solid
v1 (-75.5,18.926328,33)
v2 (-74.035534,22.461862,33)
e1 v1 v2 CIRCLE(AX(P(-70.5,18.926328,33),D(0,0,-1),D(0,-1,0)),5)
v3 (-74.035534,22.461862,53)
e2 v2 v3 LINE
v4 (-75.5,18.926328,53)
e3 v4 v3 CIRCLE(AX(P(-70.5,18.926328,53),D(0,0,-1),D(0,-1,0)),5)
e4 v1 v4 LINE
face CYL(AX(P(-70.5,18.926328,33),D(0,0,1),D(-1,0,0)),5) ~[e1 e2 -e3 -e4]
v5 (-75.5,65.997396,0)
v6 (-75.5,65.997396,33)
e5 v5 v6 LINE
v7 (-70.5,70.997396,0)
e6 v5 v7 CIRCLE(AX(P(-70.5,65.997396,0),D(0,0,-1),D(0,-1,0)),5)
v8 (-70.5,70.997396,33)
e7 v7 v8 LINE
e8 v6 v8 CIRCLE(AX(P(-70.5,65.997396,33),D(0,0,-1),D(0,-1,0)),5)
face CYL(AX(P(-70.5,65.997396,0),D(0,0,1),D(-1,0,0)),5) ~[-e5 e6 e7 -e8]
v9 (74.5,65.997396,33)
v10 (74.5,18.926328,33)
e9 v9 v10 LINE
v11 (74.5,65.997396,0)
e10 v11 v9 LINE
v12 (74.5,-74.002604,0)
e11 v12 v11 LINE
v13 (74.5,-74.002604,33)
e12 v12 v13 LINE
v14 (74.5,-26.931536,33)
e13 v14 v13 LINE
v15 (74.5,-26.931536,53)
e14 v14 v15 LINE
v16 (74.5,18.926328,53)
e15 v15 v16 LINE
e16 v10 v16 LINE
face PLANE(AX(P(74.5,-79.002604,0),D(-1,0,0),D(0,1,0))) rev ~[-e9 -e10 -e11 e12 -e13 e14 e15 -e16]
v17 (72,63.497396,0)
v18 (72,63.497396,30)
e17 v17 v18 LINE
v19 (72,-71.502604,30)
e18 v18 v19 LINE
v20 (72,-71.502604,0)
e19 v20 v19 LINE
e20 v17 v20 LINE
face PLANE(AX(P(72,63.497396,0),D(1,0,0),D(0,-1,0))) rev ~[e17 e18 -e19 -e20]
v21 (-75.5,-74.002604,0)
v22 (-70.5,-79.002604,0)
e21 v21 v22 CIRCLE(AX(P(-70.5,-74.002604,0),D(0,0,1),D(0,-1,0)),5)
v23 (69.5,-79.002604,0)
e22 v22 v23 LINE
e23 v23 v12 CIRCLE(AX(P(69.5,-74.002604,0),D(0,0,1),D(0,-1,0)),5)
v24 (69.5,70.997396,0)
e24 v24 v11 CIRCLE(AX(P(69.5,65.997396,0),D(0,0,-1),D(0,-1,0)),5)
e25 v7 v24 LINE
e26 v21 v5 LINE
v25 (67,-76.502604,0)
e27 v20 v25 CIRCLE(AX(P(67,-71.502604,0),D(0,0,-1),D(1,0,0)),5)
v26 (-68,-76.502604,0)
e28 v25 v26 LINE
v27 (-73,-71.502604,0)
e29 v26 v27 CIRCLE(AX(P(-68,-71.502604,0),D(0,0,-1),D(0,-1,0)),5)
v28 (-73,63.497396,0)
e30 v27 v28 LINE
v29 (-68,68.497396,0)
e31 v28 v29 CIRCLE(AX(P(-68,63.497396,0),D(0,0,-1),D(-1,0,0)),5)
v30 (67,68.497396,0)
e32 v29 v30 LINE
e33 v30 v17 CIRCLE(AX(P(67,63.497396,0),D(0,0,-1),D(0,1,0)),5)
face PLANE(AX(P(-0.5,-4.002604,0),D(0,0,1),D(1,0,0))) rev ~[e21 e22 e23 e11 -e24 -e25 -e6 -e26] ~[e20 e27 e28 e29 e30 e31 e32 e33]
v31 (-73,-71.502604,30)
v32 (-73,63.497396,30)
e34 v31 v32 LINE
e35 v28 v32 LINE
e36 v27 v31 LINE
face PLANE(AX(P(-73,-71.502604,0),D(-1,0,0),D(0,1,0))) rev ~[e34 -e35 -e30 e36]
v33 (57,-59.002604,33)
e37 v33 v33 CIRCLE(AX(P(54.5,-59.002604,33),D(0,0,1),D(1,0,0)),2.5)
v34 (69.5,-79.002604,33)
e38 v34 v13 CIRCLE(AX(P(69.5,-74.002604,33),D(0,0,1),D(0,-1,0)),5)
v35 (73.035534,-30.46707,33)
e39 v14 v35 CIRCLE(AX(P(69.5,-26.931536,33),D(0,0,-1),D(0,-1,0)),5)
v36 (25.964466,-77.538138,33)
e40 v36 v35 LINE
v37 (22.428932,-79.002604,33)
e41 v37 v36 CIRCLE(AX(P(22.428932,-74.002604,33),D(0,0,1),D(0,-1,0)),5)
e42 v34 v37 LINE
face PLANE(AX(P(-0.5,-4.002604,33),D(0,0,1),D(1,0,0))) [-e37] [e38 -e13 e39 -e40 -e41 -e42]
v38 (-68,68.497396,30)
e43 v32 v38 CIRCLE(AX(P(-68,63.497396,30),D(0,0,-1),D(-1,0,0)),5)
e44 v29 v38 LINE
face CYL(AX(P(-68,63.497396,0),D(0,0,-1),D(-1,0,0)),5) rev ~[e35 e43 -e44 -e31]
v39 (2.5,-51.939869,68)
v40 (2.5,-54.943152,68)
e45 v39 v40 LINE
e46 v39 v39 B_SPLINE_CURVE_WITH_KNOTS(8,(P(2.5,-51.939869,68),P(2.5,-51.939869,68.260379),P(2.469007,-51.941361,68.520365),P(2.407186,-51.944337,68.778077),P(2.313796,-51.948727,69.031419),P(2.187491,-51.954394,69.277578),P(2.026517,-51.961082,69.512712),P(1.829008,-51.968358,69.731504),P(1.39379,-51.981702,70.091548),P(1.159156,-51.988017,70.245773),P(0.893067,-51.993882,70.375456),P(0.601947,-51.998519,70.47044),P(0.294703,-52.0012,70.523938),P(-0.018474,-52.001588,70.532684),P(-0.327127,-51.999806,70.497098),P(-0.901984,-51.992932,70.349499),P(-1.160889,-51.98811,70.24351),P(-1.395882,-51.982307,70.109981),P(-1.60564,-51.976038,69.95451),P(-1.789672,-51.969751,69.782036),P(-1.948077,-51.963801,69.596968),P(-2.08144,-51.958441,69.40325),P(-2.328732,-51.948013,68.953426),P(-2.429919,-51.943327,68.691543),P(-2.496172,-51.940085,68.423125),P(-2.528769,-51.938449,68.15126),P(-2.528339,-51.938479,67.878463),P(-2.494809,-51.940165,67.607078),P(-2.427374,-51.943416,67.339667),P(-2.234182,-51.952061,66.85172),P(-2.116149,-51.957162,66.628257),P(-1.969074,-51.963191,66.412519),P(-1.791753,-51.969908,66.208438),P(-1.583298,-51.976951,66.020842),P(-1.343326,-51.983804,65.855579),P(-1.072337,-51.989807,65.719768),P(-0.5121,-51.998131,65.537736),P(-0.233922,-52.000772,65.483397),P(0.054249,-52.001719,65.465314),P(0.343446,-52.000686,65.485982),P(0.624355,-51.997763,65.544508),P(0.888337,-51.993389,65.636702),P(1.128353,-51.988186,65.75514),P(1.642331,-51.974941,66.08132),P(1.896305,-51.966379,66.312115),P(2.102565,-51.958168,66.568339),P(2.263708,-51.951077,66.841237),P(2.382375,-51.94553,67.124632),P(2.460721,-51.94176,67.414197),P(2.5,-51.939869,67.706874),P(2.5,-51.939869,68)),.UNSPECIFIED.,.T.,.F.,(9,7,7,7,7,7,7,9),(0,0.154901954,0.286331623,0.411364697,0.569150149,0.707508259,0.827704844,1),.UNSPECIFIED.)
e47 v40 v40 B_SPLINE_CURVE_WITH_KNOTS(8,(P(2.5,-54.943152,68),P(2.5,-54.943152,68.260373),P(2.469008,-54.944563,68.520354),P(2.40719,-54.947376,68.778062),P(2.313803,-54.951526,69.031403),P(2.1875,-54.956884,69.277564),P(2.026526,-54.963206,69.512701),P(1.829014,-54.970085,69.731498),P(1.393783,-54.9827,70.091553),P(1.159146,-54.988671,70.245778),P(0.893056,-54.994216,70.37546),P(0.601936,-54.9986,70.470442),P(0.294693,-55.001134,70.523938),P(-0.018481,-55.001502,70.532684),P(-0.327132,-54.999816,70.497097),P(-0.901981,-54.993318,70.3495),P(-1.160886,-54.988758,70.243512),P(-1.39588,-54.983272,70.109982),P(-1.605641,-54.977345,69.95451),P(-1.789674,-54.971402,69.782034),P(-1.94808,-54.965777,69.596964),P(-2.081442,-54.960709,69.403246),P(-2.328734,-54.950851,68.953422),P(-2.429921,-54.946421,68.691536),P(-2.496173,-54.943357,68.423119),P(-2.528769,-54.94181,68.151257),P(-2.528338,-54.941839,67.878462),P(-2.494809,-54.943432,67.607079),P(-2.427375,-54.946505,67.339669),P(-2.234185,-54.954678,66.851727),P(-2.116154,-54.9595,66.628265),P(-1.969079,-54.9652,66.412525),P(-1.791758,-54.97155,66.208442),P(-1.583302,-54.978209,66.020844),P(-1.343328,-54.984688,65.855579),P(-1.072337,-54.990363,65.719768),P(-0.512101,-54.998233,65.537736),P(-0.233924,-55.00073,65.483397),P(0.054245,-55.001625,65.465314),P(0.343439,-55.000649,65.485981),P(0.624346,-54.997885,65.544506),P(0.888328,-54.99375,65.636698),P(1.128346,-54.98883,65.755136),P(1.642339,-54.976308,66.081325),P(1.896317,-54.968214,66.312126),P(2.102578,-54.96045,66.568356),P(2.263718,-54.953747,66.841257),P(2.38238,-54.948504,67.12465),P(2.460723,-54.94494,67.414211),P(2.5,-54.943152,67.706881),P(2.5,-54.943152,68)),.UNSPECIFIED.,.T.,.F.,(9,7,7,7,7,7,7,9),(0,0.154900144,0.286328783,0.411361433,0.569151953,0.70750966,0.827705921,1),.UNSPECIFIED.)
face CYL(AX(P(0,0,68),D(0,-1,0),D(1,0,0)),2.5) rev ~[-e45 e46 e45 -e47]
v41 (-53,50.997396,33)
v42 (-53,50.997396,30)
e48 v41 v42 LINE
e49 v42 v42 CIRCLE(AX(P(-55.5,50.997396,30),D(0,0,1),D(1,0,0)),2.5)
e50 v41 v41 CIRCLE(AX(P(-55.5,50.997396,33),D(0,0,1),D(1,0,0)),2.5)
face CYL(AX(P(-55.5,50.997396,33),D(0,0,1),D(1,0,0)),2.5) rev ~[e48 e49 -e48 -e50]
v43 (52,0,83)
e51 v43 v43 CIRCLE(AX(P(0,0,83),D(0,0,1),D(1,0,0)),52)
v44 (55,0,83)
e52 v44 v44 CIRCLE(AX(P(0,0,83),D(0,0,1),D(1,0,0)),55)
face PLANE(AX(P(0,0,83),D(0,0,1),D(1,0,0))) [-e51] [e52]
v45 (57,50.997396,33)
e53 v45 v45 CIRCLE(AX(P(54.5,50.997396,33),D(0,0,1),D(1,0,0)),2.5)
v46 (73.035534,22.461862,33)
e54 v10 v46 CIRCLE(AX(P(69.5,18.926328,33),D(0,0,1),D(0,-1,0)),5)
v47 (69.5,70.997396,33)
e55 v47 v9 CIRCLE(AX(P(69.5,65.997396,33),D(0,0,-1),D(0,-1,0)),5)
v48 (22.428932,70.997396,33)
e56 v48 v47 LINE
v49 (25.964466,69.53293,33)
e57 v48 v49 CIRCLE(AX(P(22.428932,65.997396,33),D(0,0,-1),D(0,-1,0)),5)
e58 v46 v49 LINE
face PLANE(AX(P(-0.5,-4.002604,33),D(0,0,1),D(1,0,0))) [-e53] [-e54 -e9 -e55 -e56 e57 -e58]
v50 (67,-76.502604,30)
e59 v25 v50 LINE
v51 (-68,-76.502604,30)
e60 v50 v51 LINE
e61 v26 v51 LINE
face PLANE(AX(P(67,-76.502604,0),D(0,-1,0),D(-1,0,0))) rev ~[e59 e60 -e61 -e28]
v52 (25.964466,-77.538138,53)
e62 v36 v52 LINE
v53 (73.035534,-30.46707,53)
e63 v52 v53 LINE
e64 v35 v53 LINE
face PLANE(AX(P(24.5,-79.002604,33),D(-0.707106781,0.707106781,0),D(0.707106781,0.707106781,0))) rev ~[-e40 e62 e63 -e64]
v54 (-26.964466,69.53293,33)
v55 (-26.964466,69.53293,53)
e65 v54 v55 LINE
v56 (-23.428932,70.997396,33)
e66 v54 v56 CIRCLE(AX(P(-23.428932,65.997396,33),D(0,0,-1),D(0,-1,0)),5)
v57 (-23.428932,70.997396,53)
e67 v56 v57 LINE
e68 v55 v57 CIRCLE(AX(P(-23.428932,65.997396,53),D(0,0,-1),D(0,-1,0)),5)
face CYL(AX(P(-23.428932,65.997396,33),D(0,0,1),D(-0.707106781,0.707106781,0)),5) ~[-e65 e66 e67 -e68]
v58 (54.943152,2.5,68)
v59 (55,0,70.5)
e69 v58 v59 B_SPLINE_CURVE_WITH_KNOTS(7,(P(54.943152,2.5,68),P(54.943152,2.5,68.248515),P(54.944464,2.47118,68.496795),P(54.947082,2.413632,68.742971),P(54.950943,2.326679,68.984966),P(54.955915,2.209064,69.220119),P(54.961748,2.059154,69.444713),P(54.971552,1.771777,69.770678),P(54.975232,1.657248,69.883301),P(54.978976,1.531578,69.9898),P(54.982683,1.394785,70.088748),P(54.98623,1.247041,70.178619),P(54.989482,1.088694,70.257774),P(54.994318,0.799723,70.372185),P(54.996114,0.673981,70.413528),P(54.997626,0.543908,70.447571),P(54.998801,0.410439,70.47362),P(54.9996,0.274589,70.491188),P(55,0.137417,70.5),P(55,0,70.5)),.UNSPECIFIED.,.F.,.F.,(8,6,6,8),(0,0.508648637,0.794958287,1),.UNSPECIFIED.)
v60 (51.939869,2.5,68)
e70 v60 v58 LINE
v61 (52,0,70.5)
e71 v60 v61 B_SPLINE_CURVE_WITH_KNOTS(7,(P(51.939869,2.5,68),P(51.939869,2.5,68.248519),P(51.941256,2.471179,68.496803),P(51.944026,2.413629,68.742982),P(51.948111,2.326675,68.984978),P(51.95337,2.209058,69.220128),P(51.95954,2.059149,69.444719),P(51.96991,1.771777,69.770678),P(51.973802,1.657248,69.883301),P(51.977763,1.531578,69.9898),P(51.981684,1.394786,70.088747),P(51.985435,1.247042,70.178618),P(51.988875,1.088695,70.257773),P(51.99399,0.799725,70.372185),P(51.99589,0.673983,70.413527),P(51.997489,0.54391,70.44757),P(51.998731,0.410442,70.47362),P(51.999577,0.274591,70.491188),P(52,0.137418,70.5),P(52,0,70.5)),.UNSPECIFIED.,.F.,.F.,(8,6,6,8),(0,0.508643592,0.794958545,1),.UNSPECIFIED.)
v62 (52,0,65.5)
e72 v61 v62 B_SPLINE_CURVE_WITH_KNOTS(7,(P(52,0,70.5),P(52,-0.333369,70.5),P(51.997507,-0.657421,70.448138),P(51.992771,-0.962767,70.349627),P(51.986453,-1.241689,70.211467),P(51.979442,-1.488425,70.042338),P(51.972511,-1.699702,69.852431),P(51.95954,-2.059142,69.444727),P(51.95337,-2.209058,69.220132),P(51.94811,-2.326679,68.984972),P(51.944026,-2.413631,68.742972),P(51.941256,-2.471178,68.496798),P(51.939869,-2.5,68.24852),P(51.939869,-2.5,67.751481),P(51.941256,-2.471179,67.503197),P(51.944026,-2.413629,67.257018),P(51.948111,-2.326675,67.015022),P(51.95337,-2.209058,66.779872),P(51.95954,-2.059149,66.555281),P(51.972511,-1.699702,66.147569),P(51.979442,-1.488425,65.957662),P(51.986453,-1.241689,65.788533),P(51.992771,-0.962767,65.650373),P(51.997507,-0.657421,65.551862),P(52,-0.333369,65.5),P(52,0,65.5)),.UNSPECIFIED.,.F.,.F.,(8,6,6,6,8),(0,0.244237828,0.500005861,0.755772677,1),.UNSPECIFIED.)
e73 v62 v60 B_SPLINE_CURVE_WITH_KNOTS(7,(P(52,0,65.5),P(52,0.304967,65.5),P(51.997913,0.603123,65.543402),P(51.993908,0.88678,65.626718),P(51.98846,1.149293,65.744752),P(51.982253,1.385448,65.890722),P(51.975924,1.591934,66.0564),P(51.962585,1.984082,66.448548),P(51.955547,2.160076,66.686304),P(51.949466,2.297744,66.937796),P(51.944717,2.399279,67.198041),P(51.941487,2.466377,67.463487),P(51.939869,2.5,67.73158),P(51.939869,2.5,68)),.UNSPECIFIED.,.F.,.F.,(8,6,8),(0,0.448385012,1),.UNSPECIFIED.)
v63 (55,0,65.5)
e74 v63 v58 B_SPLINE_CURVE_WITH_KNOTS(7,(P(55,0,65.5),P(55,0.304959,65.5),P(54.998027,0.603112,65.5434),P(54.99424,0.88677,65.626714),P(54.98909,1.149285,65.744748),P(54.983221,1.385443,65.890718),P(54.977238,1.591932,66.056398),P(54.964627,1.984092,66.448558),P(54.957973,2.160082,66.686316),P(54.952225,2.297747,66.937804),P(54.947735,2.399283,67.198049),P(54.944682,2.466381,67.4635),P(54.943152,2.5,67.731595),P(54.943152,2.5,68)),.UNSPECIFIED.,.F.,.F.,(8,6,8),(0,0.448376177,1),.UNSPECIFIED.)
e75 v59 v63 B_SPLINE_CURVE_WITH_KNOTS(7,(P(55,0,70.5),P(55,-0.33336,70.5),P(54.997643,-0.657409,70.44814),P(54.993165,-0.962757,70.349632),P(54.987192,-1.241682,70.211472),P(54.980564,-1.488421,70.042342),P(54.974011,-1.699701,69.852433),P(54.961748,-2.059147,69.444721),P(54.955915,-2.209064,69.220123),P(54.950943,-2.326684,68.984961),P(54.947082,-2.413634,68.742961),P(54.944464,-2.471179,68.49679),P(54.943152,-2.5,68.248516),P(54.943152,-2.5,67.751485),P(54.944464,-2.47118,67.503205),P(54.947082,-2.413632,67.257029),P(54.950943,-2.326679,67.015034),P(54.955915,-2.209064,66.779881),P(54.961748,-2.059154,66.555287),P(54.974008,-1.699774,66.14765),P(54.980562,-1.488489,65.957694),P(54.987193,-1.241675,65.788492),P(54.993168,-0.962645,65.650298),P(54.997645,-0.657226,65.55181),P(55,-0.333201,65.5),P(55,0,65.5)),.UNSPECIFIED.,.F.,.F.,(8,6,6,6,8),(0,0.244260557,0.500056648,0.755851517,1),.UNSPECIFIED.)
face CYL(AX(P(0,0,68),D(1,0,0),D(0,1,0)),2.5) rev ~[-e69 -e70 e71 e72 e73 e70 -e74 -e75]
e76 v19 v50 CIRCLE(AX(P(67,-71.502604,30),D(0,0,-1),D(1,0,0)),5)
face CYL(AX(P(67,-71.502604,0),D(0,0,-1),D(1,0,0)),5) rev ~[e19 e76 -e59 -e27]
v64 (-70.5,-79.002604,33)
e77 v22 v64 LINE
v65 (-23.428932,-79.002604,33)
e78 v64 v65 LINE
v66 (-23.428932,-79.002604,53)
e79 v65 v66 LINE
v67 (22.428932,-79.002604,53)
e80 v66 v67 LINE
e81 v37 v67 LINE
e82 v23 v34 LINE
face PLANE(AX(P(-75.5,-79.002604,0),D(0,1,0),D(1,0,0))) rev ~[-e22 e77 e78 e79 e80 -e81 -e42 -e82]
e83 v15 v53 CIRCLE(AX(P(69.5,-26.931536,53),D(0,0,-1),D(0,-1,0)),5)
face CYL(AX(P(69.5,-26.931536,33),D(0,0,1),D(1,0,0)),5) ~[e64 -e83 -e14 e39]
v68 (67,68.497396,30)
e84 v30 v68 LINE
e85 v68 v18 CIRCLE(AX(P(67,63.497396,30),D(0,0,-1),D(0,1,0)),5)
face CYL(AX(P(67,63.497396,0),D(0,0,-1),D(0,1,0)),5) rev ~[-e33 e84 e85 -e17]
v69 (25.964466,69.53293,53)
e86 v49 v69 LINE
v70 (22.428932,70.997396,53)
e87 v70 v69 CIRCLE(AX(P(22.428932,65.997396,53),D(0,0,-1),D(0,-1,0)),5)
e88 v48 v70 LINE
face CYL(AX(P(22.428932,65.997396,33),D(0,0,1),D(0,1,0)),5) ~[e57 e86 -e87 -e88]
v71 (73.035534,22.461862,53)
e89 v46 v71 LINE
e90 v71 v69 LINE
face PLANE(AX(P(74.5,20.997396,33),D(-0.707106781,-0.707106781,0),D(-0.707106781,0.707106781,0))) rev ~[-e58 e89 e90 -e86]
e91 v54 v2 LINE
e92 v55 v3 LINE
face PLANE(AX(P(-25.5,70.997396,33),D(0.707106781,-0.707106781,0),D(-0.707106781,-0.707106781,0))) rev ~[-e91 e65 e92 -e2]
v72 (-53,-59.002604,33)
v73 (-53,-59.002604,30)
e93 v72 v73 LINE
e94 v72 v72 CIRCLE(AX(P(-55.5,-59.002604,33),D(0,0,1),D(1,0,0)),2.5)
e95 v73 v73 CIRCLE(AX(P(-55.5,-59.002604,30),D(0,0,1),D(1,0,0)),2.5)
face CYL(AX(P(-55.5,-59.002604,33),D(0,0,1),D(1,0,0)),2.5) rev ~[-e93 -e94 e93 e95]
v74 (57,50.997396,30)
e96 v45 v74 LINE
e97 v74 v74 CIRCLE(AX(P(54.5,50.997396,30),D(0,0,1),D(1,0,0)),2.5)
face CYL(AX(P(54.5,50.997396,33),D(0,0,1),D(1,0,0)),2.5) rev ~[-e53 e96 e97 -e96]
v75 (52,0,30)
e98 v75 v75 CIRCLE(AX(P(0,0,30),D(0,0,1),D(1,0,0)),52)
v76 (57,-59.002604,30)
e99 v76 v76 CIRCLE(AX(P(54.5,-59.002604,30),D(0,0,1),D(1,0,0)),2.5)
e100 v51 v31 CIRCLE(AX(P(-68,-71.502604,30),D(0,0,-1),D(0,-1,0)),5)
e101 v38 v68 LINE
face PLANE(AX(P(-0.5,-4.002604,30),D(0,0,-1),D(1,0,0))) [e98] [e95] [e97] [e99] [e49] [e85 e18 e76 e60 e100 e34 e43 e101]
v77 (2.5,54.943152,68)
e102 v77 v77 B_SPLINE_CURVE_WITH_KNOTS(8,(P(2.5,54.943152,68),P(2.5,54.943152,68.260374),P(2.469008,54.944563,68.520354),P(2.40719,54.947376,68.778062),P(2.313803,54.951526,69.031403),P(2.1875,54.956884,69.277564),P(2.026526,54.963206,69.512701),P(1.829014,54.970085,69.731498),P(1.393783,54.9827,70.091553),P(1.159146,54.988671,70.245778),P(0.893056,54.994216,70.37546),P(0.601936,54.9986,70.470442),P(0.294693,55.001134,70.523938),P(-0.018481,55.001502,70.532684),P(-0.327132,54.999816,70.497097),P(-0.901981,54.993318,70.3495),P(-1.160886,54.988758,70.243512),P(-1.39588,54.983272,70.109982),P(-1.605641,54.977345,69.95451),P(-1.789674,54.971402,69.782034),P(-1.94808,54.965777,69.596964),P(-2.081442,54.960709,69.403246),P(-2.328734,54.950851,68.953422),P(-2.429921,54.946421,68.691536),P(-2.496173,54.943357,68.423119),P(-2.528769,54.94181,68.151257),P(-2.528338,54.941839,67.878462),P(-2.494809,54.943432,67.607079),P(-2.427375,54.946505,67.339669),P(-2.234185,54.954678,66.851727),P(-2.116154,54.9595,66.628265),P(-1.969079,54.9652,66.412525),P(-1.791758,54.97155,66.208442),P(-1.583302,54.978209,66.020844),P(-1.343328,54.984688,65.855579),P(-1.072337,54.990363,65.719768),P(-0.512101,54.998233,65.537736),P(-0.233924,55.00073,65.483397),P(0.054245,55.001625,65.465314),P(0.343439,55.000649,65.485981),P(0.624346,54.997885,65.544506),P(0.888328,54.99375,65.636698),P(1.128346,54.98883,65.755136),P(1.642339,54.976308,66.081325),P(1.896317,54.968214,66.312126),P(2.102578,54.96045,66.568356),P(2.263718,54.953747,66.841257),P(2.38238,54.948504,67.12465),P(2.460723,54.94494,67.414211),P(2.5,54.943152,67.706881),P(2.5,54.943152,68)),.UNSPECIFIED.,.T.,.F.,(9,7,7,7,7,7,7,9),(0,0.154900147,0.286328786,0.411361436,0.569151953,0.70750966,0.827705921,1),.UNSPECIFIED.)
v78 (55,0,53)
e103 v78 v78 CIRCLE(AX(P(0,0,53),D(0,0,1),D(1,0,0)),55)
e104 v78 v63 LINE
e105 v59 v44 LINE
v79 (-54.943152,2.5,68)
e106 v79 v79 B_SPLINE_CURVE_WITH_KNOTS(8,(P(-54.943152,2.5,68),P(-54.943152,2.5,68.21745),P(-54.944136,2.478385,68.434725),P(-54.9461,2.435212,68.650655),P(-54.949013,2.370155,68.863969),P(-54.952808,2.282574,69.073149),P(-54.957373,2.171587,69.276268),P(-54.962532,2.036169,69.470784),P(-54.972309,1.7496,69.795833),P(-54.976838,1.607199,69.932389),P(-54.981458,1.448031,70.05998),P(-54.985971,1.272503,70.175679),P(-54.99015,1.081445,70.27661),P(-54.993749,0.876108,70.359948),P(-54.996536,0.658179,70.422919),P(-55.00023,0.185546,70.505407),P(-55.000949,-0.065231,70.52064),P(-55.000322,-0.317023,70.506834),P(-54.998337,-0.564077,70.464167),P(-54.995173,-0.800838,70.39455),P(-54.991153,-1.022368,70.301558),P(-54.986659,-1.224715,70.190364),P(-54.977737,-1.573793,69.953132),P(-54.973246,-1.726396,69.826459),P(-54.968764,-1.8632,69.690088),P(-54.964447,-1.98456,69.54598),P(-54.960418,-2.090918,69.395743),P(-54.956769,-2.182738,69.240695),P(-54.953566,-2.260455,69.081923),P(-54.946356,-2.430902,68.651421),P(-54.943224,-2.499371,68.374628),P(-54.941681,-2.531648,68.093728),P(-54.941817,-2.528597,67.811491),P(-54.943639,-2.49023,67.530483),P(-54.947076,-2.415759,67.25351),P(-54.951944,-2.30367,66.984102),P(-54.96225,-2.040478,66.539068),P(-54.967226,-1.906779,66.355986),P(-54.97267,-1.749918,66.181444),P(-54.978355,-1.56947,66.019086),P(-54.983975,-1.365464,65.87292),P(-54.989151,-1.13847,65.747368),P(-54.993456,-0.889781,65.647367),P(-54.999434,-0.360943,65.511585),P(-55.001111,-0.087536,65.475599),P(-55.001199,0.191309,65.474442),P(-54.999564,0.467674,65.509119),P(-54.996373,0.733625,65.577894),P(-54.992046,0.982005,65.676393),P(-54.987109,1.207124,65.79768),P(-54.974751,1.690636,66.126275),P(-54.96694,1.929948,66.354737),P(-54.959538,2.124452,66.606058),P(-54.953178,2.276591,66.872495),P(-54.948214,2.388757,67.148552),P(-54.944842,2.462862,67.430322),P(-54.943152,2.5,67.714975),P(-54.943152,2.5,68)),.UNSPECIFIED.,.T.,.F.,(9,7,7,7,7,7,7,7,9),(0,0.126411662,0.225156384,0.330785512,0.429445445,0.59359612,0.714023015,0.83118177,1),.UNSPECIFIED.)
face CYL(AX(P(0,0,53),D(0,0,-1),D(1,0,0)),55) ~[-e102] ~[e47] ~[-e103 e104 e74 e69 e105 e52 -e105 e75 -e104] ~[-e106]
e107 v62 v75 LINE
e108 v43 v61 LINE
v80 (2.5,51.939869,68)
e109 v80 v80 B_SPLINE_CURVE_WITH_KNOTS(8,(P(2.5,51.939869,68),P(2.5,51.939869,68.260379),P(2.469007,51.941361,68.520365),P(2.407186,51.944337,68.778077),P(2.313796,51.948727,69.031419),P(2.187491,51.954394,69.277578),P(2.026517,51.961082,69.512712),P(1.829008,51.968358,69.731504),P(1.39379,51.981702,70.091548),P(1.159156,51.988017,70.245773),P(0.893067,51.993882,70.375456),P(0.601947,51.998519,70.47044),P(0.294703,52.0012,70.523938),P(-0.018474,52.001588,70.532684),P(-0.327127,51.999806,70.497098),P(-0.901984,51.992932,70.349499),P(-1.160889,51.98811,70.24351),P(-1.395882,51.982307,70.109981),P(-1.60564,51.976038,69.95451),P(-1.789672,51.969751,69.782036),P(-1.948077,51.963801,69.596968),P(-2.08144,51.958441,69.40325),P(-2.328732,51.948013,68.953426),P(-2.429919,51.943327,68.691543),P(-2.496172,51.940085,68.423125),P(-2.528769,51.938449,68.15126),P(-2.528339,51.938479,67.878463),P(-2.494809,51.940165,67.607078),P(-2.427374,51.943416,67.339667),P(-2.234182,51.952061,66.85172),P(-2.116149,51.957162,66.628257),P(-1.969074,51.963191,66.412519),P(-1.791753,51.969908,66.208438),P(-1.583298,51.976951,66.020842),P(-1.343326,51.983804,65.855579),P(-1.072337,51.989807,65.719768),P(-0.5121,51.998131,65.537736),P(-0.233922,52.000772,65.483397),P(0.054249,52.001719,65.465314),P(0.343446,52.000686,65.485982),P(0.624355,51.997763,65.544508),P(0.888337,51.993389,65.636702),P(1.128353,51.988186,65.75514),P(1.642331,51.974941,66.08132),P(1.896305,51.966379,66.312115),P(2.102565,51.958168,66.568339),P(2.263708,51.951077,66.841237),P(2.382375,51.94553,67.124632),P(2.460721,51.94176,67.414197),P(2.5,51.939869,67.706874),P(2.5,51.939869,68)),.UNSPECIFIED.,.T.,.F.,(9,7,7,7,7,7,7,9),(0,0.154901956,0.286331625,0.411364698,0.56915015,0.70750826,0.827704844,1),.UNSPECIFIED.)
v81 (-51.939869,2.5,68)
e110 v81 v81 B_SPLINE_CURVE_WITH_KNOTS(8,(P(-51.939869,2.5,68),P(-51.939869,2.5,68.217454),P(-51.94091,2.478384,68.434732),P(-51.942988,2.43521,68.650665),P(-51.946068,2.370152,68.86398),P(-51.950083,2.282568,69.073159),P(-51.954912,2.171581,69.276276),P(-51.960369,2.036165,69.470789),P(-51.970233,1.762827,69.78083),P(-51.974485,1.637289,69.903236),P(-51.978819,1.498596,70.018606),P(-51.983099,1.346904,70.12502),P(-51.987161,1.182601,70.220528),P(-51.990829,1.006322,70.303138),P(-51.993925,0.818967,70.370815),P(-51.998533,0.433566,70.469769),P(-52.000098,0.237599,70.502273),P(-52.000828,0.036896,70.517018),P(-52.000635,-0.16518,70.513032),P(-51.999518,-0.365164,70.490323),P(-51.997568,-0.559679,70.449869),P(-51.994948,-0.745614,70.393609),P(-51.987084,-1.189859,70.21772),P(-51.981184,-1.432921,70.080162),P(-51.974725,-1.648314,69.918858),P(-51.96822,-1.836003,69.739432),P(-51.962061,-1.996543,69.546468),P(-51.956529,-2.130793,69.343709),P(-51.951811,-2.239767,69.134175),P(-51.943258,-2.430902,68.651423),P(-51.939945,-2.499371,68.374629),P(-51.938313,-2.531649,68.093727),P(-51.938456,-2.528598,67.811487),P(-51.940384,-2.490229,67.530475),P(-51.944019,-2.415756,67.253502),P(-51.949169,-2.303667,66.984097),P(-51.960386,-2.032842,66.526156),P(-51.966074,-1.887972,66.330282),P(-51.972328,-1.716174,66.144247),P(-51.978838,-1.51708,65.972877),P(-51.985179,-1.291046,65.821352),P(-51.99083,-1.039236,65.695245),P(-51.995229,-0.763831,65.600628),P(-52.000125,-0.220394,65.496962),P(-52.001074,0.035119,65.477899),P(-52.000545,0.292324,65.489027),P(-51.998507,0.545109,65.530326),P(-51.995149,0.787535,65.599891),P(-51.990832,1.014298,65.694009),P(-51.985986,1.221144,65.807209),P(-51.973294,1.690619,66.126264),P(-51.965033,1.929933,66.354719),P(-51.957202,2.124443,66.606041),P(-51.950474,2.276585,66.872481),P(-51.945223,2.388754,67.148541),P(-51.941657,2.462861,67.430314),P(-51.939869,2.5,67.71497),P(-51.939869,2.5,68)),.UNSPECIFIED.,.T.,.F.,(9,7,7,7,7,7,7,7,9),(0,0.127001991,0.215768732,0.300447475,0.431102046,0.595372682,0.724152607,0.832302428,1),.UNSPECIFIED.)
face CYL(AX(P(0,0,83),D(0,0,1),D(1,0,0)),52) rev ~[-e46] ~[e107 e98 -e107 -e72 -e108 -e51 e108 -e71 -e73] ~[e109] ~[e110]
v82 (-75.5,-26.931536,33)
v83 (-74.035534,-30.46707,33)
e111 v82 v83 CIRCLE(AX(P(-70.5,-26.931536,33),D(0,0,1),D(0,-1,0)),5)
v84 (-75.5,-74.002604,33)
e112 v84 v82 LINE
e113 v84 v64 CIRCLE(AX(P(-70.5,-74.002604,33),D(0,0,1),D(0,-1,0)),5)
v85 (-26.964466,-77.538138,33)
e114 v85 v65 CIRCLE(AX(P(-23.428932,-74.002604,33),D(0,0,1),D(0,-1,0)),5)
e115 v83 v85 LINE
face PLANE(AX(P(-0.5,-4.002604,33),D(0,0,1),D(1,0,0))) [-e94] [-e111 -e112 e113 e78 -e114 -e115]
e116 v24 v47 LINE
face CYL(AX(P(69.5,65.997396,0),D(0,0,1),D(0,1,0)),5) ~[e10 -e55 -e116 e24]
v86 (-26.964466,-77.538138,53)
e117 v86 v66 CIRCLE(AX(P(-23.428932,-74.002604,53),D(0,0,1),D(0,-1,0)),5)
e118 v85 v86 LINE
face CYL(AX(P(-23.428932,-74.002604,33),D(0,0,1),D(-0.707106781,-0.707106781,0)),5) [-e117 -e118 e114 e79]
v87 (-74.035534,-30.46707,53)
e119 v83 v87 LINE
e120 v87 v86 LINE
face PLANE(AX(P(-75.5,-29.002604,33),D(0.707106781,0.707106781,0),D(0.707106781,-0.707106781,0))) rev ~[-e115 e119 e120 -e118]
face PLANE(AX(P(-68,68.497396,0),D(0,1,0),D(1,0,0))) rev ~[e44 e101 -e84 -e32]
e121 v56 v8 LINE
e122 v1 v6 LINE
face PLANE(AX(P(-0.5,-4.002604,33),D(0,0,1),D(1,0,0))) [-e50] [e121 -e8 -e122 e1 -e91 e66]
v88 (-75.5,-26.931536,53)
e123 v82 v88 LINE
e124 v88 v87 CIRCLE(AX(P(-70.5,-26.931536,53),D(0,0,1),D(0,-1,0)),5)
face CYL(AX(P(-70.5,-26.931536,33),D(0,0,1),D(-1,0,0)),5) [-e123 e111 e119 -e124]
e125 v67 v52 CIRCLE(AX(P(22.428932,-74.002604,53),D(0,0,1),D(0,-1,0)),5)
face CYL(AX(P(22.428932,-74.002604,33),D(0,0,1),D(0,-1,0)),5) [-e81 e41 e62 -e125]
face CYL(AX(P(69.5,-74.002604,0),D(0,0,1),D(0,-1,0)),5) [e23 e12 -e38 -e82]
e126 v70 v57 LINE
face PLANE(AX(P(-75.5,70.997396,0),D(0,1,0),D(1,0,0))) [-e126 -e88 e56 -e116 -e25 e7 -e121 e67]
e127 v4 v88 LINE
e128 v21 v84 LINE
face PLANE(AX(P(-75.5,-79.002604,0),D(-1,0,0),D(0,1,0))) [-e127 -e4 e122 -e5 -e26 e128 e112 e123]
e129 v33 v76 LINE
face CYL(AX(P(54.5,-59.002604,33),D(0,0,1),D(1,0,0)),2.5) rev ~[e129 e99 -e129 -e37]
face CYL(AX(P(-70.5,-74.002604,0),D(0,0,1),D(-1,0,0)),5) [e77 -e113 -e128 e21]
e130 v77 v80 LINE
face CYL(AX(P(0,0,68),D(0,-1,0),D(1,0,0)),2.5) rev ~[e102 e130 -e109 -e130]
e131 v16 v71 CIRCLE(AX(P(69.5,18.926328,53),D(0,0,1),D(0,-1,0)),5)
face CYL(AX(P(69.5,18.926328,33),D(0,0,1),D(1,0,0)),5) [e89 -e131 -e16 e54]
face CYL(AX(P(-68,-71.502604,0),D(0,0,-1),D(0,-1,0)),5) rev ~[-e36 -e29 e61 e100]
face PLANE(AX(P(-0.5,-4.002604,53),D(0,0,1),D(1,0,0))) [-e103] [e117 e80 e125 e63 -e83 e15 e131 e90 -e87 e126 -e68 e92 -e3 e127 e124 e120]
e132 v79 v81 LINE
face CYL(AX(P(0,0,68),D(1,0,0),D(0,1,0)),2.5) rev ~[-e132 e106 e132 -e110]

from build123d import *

# Parameters (mm, degrees)
F0_W      = 150
F0_H      = 150
F1_DEPTH  = 33
F3_DEPTH  = 20
F4_R      = 5
F5_R      = 55
F6_DEPTH  = 30
F8_DEPTH  = 30
F9_R      = 52
F10_DEPTH = 83.001
F11_R     = 2.5
F12_DEPTH = 33.001
F13_R     = 2.5
F14_DEPTH = 33.001
F15_R     = 2.5
F16_DEPTH = 33.001
F17_R     = 2.5
F18_DEPTH = 33.001
F19_R     = 5
F20_R     = 2.5
F21_DEPTH = 75
F22_R     = 2.5
F23_DEPTH = 75


with BuildPart() as f1:
    # F0 (on Top) → F1 (new body)
    with BuildSketch(Plane.XY):
        with Locations((-0.500000082, -4.0026037022)):
            Rectangle(F0_W, F0_H)
    extrude(amount=F1_DEPTH)

    # F2 (on face) → F3 (join)
    with BuildSketch(Plane.XY.offset(33)):
        Polygon((24.499999918, 70.9973962978), (-25.500000082, 70.9973962978), (-75.500000082, 20.9973962978), (-75.500000082, -29.0026037022), (-25.500000082, -79.0026037022), (24.499999918, -79.0026037022), (74.499999918, -29.0026037022), (74.499999918, 20.9973962978), align=None)
    extrude(amount=F3_DEPTH)

    # F4
    f4_edges = [f1.edges().sort_by_distance(p)[0] for p in [
        (-75.5, 70.997396, 16.5),
        (-75.5, -79.002604, 16.5),
        (74.5, 70.997396, 16.5),
        (74.5, -79.002604, 16.5),
    ]]
    fillet(f4_edges, radius=F4_R)

    # F5 (on face) → F6 (join)
    with BuildSketch(Plane.XY.offset(53)):
        Circle(F5_R)
    extrude(amount=F6_DEPTH)

    # F7 (on face) → F8 (cut)
    with BuildSketch(Plane(origin=(0, 0, 0), x_dir=(1, 0, 0), z_dir=(0, 0, -1))):
        with BuildLine():
            Line((66.999999918, 76.5026037022), (-68.000000082, 76.5026037022))
            ThreePointArc((-68.000000082, 76.5026037022), (-71.5355339879, 75.0381376082), (-73.000000082, 71.5026037022))
            Line((-73.000000082, 71.5026037022), (-73.000000082, -63.4973962978))
            ThreePointArc((-73.000000082, -63.4973962978), (-71.5355339879, -67.0329302037), (-68.000000082, -68.4973962978))
            Line((-68.000000082, -68.4973962978), (66.999999918, -68.4973962978))
            ThreePointArc((66.999999918, -68.4973962978), (70.535533824, -67.0329302037), (71.999999918, -63.4973962978))
            Line((71.999999918, -63.4973962978), (71.999999918, 71.5026037022))
            ThreePointArc((71.999999918, 71.5026037022), (70.535533824, 75.0381376082), (66.999999918, 76.5026037022))
        make_face()
    extrude(amount=-F8_DEPTH, mode=Mode.SUBTRACT)

    # F9 (on face) → F10 (cut, through all)
    with BuildSketch(Plane.XY.offset(83)):
        Circle(F9_R)
    extrude(amount=-F10_DEPTH, mode=Mode.SUBTRACT)

    # F11 (on face) → F12 (cut, through all)
    with BuildSketch(Plane.XY.offset(33)):
        with Locations((-55.500000082, 50.9973962978)):
            Circle(F11_R)
    extrude(amount=-F12_DEPTH, mode=Mode.SUBTRACT)

    # F13 (on face) → F14 (cut, through all)
    with BuildSketch(Plane.XY.offset(33)):
        with Locations((54.499999918, 50.9973962978)):
            Circle(F13_R)
    extrude(amount=-F14_DEPTH, mode=Mode.SUBTRACT)

    # F15 (on face) → F16 (cut, through all)
    with BuildSketch(Plane.XY.offset(33)):
        with Locations((-55.500000082, -59.0026037022)):
            Circle(F15_R)
    extrude(amount=-F16_DEPTH, mode=Mode.SUBTRACT)

    # F17 (on face) → F18 (cut, through all)
    with BuildSketch(Plane.XY.offset(33)):
        with Locations((54.499999918, -59.0026037022)):
            Circle(F17_R)
    extrude(amount=-F18_DEPTH, mode=Mode.SUBTRACT)

    # F19
    f19_edges = [f1.edges().sort_by_distance(p)[0] for p in [
        (-75.5, -29.002604, 43),
        (-75.5, 20.997396, 43),
        (-25.5, -79.002604, 43),
        (24.5, -79.002604, 43),
        (74.5, -29.002604, 43),
        (74.5, 20.997396, 43),
        (24.5, 70.997396, 43),
        (-25.5, 70.997396, 43),
    ]]
    fillet(f19_edges, radius=F19_R)

    # F20 (on Right) → F21 (cut, symmetric)
    with BuildSketch(Plane.YZ):
        with Locations((0, 68)):
            Circle(F20_R)
    extrude(amount=F21_DEPTH, both=True, mode=Mode.SUBTRACT)

    # F22 (on Front) → F23 (cut, symmetric)
    with BuildSketch(Plane.XZ):
        with Locations((0, 68)):
            Circle(F22_R)
    extrude(amount=F23_DEPTH, both=True, mode=Mode.SUBTRACT)


solid = f1.part
